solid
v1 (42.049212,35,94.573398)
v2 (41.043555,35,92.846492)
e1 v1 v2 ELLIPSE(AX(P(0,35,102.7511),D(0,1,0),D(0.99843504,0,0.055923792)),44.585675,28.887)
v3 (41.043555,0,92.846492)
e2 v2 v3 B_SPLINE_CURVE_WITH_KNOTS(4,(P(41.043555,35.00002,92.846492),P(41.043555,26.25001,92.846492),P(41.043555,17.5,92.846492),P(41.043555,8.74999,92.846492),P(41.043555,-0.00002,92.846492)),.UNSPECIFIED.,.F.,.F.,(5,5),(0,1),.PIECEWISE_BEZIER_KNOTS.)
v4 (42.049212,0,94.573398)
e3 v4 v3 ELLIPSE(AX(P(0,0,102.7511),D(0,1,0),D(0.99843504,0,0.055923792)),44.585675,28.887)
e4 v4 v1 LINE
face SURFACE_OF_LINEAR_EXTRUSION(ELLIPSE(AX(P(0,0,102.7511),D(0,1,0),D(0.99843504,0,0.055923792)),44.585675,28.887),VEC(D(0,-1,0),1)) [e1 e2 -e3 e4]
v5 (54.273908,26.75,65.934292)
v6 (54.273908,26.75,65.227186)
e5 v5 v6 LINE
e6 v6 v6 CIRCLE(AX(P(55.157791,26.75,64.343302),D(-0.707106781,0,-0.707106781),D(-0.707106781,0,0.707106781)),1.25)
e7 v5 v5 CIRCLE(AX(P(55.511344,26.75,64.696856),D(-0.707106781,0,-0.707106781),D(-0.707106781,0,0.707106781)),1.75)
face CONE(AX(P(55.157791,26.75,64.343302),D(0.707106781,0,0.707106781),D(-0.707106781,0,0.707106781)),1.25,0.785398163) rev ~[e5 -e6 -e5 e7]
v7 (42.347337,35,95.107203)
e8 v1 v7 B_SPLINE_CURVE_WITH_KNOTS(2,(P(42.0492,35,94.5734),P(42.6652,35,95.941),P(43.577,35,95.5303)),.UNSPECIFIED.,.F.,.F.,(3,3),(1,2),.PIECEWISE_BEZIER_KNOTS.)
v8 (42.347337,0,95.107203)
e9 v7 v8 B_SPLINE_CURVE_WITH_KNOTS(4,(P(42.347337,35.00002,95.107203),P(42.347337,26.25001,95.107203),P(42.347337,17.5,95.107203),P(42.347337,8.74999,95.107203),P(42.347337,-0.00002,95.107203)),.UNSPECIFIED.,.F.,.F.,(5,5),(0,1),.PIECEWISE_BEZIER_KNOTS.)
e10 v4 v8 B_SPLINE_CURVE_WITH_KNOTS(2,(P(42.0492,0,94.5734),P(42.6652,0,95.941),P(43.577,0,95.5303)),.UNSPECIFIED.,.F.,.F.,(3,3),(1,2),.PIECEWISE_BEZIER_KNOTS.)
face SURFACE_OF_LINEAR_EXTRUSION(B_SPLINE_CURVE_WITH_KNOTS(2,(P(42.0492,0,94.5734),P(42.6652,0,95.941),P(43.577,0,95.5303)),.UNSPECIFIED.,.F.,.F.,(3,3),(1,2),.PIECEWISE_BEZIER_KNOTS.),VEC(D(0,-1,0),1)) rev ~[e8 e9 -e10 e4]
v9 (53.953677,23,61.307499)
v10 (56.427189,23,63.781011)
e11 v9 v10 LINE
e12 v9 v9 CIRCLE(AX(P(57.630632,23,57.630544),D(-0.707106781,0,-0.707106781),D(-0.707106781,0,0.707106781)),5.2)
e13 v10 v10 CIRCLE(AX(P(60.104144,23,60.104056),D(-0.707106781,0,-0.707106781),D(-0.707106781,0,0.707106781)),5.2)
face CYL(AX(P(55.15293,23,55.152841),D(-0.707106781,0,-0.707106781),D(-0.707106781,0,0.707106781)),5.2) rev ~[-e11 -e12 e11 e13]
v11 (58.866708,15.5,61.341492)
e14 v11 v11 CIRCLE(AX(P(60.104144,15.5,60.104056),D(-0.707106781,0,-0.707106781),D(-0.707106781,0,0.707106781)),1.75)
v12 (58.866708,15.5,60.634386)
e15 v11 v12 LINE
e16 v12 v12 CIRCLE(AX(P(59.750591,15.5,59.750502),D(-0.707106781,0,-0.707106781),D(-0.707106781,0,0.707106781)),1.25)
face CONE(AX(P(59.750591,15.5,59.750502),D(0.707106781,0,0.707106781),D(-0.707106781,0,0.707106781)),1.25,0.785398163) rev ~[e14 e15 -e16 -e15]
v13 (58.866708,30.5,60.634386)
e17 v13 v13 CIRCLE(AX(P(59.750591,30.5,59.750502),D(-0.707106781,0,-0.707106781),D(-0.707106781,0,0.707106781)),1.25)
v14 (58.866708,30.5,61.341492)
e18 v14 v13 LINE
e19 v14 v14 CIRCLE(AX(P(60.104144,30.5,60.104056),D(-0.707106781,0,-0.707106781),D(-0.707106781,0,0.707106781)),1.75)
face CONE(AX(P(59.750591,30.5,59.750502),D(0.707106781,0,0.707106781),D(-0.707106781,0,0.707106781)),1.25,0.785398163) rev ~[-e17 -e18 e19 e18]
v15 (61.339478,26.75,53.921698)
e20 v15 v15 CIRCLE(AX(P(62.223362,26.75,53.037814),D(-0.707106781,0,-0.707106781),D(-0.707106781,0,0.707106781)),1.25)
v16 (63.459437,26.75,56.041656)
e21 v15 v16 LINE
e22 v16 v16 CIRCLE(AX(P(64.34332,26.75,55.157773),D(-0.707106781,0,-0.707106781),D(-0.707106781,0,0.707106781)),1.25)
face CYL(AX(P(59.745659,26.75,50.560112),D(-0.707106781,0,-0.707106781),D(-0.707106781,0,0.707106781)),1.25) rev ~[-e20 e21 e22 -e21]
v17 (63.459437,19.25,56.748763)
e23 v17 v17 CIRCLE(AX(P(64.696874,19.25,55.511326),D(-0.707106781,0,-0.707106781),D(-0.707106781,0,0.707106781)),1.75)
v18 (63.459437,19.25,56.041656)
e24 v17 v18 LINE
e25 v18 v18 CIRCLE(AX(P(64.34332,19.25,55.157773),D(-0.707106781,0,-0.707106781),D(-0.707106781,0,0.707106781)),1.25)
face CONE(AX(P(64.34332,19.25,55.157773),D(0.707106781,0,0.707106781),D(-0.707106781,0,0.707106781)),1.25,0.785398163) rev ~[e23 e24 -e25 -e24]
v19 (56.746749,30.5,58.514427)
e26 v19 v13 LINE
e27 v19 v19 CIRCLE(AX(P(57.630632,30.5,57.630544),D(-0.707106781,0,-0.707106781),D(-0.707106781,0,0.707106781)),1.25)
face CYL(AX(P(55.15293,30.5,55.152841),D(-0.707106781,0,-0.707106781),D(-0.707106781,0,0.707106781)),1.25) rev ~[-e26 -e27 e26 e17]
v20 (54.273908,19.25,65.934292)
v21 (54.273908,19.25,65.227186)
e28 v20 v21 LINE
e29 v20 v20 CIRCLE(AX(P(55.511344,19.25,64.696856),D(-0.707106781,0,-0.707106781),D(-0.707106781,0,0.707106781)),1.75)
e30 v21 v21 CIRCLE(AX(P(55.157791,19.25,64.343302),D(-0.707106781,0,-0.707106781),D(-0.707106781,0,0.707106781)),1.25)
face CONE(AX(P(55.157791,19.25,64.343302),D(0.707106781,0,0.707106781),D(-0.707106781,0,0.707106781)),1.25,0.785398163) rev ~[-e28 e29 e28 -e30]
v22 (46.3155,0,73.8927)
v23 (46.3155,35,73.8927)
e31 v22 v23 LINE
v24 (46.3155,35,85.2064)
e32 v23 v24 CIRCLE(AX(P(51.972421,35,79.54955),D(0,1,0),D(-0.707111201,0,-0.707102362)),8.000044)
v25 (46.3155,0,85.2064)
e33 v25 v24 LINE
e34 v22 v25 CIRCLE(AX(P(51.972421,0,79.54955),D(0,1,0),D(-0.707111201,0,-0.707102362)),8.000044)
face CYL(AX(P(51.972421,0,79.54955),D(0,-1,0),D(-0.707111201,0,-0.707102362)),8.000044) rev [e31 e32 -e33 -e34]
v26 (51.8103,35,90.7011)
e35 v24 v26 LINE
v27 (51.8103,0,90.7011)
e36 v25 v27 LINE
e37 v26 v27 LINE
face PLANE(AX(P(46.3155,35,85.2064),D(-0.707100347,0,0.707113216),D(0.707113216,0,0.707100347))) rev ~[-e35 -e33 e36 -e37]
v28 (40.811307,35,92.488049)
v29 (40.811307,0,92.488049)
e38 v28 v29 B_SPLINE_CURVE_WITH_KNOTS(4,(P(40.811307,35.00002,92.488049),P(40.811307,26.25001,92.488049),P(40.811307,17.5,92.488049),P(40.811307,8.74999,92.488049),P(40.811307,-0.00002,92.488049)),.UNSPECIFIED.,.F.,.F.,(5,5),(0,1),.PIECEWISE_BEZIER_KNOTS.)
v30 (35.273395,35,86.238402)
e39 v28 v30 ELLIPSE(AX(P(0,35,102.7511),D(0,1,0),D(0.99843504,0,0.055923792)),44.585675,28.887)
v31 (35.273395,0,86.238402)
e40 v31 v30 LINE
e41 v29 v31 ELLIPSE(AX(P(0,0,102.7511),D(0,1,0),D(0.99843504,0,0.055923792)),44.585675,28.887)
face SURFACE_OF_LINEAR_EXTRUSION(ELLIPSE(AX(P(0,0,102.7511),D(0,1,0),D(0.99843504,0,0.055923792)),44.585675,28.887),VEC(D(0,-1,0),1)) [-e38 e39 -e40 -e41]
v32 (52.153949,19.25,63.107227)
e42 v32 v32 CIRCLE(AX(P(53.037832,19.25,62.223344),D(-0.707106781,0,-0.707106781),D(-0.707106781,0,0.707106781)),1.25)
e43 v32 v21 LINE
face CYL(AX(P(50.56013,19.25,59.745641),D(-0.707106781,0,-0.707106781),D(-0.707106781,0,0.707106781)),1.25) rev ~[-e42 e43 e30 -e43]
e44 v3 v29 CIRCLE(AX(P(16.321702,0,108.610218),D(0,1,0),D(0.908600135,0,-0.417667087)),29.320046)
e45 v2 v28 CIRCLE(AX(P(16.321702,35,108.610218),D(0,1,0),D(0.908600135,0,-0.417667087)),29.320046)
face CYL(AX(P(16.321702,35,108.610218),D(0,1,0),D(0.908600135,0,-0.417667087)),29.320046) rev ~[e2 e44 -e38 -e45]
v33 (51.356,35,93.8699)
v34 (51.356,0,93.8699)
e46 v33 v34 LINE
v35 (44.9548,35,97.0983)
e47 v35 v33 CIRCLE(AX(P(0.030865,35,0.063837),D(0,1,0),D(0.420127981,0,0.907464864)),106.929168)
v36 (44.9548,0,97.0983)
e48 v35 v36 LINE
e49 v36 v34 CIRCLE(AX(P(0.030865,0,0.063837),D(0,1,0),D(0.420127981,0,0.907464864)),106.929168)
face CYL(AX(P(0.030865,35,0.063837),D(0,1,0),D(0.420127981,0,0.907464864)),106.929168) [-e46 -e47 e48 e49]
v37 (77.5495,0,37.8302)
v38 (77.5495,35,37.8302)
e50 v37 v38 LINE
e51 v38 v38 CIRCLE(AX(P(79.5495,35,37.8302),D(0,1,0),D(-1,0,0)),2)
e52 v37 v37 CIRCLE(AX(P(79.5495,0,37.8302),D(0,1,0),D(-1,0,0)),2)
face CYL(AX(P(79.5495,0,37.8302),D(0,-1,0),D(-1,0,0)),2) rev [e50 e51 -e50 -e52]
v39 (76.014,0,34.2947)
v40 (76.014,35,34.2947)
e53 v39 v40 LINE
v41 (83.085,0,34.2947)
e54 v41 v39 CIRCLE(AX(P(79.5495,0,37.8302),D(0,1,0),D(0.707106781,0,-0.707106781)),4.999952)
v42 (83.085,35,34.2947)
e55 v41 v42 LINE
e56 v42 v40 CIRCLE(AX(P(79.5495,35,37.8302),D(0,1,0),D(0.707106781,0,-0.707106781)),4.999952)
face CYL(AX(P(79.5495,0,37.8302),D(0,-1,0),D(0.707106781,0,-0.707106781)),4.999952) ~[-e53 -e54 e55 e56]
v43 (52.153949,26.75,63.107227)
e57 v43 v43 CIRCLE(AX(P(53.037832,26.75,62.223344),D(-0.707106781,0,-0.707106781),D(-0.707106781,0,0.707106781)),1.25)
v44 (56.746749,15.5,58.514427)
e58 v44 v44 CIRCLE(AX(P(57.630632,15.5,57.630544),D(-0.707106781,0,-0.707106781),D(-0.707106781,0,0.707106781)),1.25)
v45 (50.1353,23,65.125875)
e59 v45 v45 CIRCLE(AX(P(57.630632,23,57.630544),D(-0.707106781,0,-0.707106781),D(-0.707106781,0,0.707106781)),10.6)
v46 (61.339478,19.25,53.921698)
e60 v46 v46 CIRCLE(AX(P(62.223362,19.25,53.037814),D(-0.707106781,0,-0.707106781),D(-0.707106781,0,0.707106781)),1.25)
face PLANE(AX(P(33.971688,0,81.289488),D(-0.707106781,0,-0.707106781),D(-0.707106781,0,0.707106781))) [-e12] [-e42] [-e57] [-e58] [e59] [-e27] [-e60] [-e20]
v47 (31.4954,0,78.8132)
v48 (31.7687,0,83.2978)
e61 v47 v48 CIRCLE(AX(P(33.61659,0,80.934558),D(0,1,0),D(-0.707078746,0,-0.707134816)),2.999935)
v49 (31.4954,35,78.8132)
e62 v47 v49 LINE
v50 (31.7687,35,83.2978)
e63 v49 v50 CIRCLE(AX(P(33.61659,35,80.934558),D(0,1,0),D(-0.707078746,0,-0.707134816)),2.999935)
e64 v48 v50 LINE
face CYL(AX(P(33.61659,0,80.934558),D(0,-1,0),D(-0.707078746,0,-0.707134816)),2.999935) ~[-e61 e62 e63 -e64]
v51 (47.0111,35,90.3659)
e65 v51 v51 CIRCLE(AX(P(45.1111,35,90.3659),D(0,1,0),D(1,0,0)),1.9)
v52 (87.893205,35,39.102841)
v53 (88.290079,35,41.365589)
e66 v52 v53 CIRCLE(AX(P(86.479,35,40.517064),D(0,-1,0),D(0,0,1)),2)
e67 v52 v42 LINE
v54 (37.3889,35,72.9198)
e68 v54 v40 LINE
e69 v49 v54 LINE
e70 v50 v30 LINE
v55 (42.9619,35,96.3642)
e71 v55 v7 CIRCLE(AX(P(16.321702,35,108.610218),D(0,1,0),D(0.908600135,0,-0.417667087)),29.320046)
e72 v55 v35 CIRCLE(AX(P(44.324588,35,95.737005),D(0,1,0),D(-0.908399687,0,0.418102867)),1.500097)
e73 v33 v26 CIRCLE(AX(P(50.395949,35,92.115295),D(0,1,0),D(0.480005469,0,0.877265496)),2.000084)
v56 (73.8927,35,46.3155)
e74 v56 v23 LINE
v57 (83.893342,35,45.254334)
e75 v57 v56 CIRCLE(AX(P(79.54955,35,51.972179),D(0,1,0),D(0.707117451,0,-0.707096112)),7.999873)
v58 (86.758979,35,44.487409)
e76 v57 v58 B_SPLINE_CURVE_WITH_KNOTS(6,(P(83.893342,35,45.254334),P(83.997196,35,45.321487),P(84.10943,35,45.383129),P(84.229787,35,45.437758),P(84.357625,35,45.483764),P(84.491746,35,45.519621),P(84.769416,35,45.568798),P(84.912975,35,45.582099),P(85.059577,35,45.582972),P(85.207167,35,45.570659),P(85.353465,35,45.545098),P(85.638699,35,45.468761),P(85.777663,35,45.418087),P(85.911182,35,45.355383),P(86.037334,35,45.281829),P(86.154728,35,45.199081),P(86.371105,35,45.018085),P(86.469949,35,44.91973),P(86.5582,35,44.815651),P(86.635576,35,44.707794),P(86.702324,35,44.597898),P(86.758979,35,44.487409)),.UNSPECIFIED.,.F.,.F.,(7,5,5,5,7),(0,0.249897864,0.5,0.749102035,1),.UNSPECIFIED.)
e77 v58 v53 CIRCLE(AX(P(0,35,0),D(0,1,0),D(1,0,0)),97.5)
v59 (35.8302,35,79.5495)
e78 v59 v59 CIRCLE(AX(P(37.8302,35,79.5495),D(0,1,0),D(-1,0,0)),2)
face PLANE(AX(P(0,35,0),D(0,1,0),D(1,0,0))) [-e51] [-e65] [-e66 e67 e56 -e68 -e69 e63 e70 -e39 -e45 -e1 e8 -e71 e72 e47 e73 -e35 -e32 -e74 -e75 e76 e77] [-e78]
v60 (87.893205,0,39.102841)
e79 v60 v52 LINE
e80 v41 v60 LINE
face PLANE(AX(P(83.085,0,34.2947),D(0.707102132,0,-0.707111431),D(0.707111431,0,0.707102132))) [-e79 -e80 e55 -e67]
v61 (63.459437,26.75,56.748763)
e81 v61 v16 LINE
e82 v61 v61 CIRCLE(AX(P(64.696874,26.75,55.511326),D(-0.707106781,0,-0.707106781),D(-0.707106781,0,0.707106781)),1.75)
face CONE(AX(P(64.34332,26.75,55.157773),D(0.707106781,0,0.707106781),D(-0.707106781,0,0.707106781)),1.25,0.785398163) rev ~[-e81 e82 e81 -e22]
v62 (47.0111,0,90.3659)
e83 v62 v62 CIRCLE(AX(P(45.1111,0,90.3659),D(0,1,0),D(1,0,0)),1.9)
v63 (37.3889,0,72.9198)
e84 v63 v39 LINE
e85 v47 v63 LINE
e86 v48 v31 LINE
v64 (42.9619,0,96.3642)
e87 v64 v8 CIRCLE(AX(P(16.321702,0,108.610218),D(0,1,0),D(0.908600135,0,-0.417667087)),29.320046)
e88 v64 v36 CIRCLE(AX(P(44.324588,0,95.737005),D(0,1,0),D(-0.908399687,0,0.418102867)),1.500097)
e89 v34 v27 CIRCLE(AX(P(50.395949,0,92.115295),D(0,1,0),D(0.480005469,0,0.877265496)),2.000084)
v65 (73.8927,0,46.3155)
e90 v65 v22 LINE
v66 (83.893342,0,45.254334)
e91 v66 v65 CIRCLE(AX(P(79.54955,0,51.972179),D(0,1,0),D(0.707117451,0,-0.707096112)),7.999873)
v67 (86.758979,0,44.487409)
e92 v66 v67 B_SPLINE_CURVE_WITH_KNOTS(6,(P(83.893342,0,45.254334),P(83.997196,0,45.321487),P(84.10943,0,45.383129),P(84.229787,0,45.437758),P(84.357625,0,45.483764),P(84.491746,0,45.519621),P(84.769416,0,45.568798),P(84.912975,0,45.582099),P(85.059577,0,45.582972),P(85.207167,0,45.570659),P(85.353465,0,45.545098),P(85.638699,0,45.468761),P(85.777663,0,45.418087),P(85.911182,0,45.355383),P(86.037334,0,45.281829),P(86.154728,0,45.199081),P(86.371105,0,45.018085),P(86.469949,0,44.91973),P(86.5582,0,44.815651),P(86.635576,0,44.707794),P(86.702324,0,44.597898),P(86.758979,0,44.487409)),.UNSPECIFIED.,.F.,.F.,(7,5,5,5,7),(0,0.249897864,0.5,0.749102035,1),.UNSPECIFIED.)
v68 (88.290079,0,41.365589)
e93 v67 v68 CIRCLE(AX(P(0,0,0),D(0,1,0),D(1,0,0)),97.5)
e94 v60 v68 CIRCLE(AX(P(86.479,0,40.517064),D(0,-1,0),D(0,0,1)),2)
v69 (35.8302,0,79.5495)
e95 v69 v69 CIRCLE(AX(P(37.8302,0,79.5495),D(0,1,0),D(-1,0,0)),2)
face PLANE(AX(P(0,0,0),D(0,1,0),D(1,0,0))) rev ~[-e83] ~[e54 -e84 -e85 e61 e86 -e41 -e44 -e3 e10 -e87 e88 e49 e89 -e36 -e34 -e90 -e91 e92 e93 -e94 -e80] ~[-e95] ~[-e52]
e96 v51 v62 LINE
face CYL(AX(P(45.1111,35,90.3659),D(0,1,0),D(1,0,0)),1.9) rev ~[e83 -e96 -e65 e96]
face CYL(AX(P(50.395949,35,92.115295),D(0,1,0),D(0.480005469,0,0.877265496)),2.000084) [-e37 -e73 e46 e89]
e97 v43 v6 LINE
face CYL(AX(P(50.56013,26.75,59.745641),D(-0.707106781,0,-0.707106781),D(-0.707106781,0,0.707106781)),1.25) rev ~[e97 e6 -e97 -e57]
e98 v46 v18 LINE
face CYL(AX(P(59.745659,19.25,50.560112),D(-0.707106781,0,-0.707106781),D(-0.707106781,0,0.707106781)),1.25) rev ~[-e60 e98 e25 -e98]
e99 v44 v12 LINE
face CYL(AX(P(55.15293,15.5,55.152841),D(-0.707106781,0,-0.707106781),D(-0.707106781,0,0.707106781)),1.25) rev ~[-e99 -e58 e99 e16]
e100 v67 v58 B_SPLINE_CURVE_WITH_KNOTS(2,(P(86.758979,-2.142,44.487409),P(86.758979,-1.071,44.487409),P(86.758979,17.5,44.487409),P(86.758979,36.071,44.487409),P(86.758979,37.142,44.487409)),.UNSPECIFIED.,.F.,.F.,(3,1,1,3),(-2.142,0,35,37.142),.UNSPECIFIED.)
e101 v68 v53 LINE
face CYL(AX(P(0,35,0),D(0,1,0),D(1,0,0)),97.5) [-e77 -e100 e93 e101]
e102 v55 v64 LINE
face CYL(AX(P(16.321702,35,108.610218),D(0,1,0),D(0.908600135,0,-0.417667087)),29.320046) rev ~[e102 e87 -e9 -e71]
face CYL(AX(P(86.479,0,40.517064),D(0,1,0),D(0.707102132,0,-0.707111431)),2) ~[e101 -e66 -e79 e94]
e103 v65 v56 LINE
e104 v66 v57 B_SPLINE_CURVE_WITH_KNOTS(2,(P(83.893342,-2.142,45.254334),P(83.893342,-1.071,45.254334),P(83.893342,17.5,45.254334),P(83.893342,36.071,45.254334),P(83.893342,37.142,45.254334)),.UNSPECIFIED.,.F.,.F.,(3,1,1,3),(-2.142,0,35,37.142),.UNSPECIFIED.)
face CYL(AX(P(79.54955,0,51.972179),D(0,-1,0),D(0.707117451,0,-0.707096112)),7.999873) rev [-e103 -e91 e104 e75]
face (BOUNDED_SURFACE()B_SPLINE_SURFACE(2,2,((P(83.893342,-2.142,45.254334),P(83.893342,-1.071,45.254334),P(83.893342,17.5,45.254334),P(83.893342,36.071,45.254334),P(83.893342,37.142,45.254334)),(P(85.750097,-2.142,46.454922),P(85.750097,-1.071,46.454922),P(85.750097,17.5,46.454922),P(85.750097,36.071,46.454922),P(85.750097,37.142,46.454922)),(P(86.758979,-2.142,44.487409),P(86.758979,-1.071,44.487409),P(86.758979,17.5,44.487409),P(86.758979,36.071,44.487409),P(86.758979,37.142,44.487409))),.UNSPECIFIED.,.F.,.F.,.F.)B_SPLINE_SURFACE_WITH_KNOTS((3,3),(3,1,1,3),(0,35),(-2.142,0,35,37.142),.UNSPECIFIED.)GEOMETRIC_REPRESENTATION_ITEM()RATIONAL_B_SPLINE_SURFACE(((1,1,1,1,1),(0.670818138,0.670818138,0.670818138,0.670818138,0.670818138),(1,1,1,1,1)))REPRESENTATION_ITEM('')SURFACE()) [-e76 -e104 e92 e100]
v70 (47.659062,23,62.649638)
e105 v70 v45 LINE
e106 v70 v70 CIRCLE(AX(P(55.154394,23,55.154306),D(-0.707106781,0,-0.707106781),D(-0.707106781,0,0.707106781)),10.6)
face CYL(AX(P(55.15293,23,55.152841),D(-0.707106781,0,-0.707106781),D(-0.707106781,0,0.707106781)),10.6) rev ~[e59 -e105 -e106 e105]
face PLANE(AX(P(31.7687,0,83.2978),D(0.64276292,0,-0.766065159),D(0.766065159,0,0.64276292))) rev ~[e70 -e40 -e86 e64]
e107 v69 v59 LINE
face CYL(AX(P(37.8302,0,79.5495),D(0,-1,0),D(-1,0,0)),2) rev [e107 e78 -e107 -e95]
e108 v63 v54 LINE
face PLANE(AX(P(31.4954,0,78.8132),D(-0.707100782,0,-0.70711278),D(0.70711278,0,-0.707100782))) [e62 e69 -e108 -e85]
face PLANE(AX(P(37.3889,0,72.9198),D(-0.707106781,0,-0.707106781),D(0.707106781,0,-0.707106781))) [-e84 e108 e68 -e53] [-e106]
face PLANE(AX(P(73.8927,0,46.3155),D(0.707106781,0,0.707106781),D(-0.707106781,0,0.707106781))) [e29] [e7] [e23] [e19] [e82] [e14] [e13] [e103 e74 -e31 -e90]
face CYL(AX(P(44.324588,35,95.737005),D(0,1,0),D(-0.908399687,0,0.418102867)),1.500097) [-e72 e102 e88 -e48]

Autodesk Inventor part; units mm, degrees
ref_plane "YZ Plane" through (0, 0, 0) normal (1, 0, 0) x (0, 1, 0)
ref_plane "XZ Plane" through (0, 0, 0) normal (0, 1, 0) x (-1, 0, 0)
ref_plane "XY Plane" through (0, 0, 0) normal (0, 0, 1) x (1, 0, 0)
sketch "Эскиз1" plane through (0, 0, 0) normal (0, 1, 0) x (-1, 0, 0)
  line L0 (34.2947, -76.014) -> (76.014, -34.2947)
  arc A0 (83.085, -34.2947) -> (76.014, -34.2947) centre (79.5495, -37.8302) ccw
  line L1 (83.085, -34.2947) -> (87.156, -38.3657)
  line L2 (46.3155, -73.8927) -> (73.8927, -46.3155)
  arc A1 (85.2064, -46.3155) -> (73.8927, -46.3155) centre (79.5495, -51.9723) ccw
  line L3 (85.2064, -46.3155) -> (87.5645, -48.6736)
  line L4 (92.5543, -49.5852) -> (94.5192, -45.7288)
  line L5 (87.156, -38.3657) -> (94.5192, -45.7288)
  line L6 (34.2947, -83.085) -> (38.3657, -87.156)
  arc A2 (34.2947, -76.014) -> (34.2947, -83.085) centre (37.8302, -79.5495) ccw
  arc A3 (46.3155, -73.8927) -> (46.3155, -85.2064) centre (51.9723, -79.5495) ccw
  line L7 (48.6736, -87.5645) -> (46.3155, -85.2064)
  line L8 (48.7014, -93.0224) -> (45.7288, -94.5192)
  line L9 (38.3657, -87.156) -> (45.7288, -94.5192)
  spline S0 degree 4 poles (87.5645, -48.6736) (88.1327, -49.2418) (88.8708, -49.8865) (89.7495, -50.471) (90.7127, -50.7263) (91.4939, -50.6999) (92.0261, -50.3682) (92.3519, -49.9478) (92.5543, -49.5852) knots 0 0 0 0 0 0.3763 0.501335 0.614666 0.722287 1 1 1 1 1
  spline S1 degree 4 poles (48.6736, -87.5645) (49.2196, -88.1111) (49.8318, -88.8375) (50.3553, -89.7359) (50.492, -90.7638) (50.3179, -91.6771) (49.7988, -92.3195) (49.2087, -92.7429) (48.7014, -93.0224) knots 0 0 0 0 0 0.349502 0.469309 0.582088 0.694155 1 1 1 1 1
  line L10 (-34.2947, -83.085) -> (-38.3657, -87.156)
  arc A4 (-34.2947, -83.085) -> (-34.2947, -76.014) centre (-37.8302, -79.5495) ccw
  line L11 (-34.2947, -76.014) -> (-76.014, -34.2947)
  arc A5 (-76.014, -34.2947) -> (-83.085, -34.2947) centre (-79.5495, -37.8302) ccw
  line L12 (-83.085, -34.2947) -> (-87.156, -38.3657)
  spline S2 degree 4 poles (-87.5645, -48.6736) (-88.2923, -48.9071) (-89.2106, -49.145) (-90.2184, -49.3413) (-91.1787, -49.4878) (-91.8016, -49.5698) (-92.1947, -49.6038) (-92.4379, -49.6109) (-92.5543, -49.5852) knots 0 0 0 0 0 0.418269 0.55812 0.681099 0.788421 1 1 1 1 1
  line L13 (-85.2064, -46.3155) -> (-87.5645, -48.6736)
  arc A6 (-73.8927, -46.3155) -> (-85.2064, -46.3155) centre (-79.5495, -51.9723) ccw
  line L14 (-46.3155, -73.8927) -> (-73.8927, -46.3155)
  arc A7 (-46.3155, -85.2064) -> (-46.3155, -73.8927) centre (-51.9723, -79.5495) ccw
  spline S3 degree 4 poles (-48.6736, -87.5645) (-49.2196, -88.1111) (-49.8318, -88.8375) (-50.3553, -89.7359) (-50.492, -90.7638) (-50.3179, -91.6771) (-49.7988, -92.3195) (-49.2087, -92.7429) (-48.7014, -93.0224) knots 0 0 0 0 0 0.349502 0.469309 0.582088 0.694155 1 1 1 1 1
  line L15 (-48.6736, -87.5645) -> (-46.3155, -85.2064)
  arc A8 (-92.5543, 49.5852) -> (-92.5543, -49.5852) centre (0, 0) ccw construction
  arc A9 (-48.7014, -93.0224) -> (48.7014, -93.0224) centre (0, 0) ccw construction
  line L16 (-38.3657, -87.156) -> (-45.7288, -94.5192)
  line L17 (-87.156, -38.3657) -> (-94.5192, -45.7288)
  line L18 (-92.5543, -49.5852) -> (-94.5192, -45.7288)
  line L19 (-48.7014, -93.0224) -> (-45.7288, -94.5192)
  line L20 (0, 0) -> (0, 95.3237) construction
  line L21 (34.2947, -76.014) -> (76.014, -34.2947)
  arc A10 (83.085, -34.2947) -> (76.014, -34.2947) centre (79.5495, -37.8302) ccw
  line L22 (83.085, -34.2947) -> (87.156, -38.3657)
  line L23 (46.3155, -73.8927) -> (73.8927, -46.3155)
  arc A11 (85.2064, -46.3155) -> (73.8927, -46.3155) centre (79.5495, -51.9723) ccw
  line L24 (85.2064, -46.3155) -> (87.5645, -48.6736)
  line L25 (92.5543, -49.5852) -> (94.5192, -45.7288)
  arc A12 (92.5543, -49.5852) -> (92.5543, 49.5852) centre (0, 0) ccw construction
  line L26 (87.156, -38.3657) -> (94.5192, -45.7288)
  line L27 (34.2947, -83.085) -> (38.3657, -87.156)
  arc A13 (34.2947, -76.014) -> (34.2947, -83.085) centre (37.8302, -79.5495) ccw
  arc A14 (46.3155, -73.8927) -> (46.3155, -85.2064) centre (51.9723, -79.5495) ccw
  line L28 (48.6736, -87.5645) -> (46.3155, -85.2064)
  line L29 (48.7014, -93.0224) -> (45.7288, -94.5192)
  line L30 (38.3657, -87.156) -> (45.7288, -94.5192)
  arc A15 (-48.7014, -93.0224) -> (48.7014, -93.0224) centre (0, 0) ccw construction
  spline S4 degree 4 poles (87.5645, -48.6736) (88.1327, -49.2418) (88.8708, -49.8865) (89.7495, -50.471) (90.7127, -50.7263) (91.4939, -50.6999) (92.0261, -50.3682) (92.3519, -49.9478) (92.5543, -49.5852) knots 0 0 0 0 0 0.3763 0.501335 0.614666 0.722287 1 1 1 1 1
  spline S5 degree 4 poles (48.6736, -87.5645) (49.2196, -88.1111) (49.8318, -88.8375) (50.3553, -89.7359) (50.492, -90.7638) (50.3179, -91.6771) (49.7988, -92.3195) (49.2087, -92.7429) (48.7014, -93.0224) knots 0 0 0 0 0 0.349502 0.469309 0.582088 0.694155 1 1 1 1 1
  line L31 (52.2091, 91.1) -> (48.6736, 87.5645) construction
  line L32 (52.2091, 91.1) -> (48.6736, 87.5645) construction
  line L33 (48.6736, 87.5645) -> (52.2091, 91.1) construction
  spline S6 degree 2 poles (48.6736, 87.5645) (52.2091, 91.1) (48.7014, 93.0224) knots 1 1 1 2 2 2 construction
  line L34 (52.2091, 91.1) -> (48.7014, 93.0224) construction
  line L35 (91.1, 52.2091) -> (52.2091, 91.1) construction
  arc A16 (92.5543, 49.5852) -> (48.7014, 93.0224) centre (0, 0) ccw construction
  line L36 (44.1942, 76.014) -> (76.014, 44.1942) construction
  line L37 (0, 56.6418) -> (-35.5516, 86.4744) construction
  arc A17 (0, 67.941) -> (23.7825, 76.5969) centre (0, 104.941) ccw construction
  arc A18 (-23.7825, 76.5969) -> (0, 67.941) centre (0, 104.941) ccw construction
  line L38 (-23.7825, 76.5969) -> (-35.2734, 86.2384) construction
  line L39 (0, 104.941) -> (-23.6028, 54.3247) construction
  arc A19 (-28.0199, 71.0163) -> (5.5413, 61.2914) centre (0, 104.941) ccw construction
  arc A20 (5.5413, 61.2914) -> (28.0199, 71.0163) centre (0, 104.941) ccw construction
  arc A21 (-30.6393, 73.2144) -> (-37.3889, 72.9198) centre (-33.8534, 69.3842) ccw construction
  line L40 (0, 56.6418) -> (23.7825, 76.5969) construction
  line L41 (23.7825, 76.5969) -> (35.2734, 86.2384) construction
  line L42 (0, 0) -> (74.2462, 74.2462) construction
  line L43 (42.6652, 95.941) -> (42.0492, 94.5734) construction
  line L44 (42.0492, 94.5734) -> (42.6652, 95.941) construction
  spline S7 degree 2 poles (42.0492, 94.5734) (42.6652, 95.941) (43.577, 95.5303) knots 1 1 1 2 2 2 construction
  line L45 (42.6652, 95.941) -> (43.577, 95.5303) construction
  arc A22 (-44.1942, 76.014) -> (-44.1942, 83.085) centre (-47.7297, 79.5495) ccw construction
  arc A23 (92.5543, -49.5852) -> (92.5543, 49.5852) centre (0, 0) ccw construction
  circle A24 centre (0, 0) radius 35 construction
  spline S8 degree 2 poles (-48.6736, 87.5645) (-52.2091, 91.1) (-48.7014, 93.0224) knots 1 1 1 2 2 2 construction
  line L46 (-48.6736, 87.5645) -> (-52.2091, 91.1) construction
  line L47 (-52.2091, 91.1) -> (-48.7014, 93.0224) construction
  arc A25 (-83.085, 44.1942) -> (-76.014, 44.1942) centre (-79.5495, 47.7297) ccw construction
  line L48 (-83.085, 44.1942) -> (-85.2064, 46.3155) construction
  line L49 (-44.1942, 76.014) -> (-46.3155, 73.8927) construction
  arc A26 (-48.7014, 93.0224) -> (-92.5543, 49.5852) centre (0, 0) ccw construction
  line L50 (-42.6652, 95.941) -> (-42.0492, 94.5734) construction
  arc A27 (-43.577, 95.5303) -> (-48.7014, 93.0224) centre (0, 0) ccw
  ellipse E0 centre (0, 102.7511) end of major axis (-44.5159, 105.2445) minor radius 28.887 (-42.0492, 94.5734) -> (-35.2734, 86.2384) ccw
  line L51 (-42.0492, 94.5734) -> (-42.6652, 95.941) construction
  spline S9 degree 2 poles (-42.0492, 94.5734) (-42.6652, 95.941) (-43.577, 95.5303) knots 1 1 1 2 2 2 construction
  line L52 (-42.6652, 95.941) -> (-43.577, 95.5303) construction
  line L53 (-42.0492, 94.5734) -> (-42.6652, 95.941) construction
  spline S10 degree 2 poles (-42.0492, 94.5734) (-42.6652, 95.941) (-43.577, 95.5303) knots 1 1 1 2 2 2
  line L54 (-42.6652, 95.941) -> (-43.577, 95.5303) construction
  line L55 (-42.6652, 95.941) -> (-43.577, 95.5303) construction
  line L56 (-44.1942, 83.085) -> (-48.6736, 87.5645) construction
  line L57 (-37.3889, 72.9198) -> (-76.014, 34.2947)
  arc A28 (-83.085, 34.2947) -> (-76.014, 34.2947) centre (-79.5495, 37.8302) ccw
  line L58 (-83.085, 34.2947) -> (-90.6891, 41.8987)
  arc A29 (-87.3563, 48.4654) -> (-90.6891, 41.8987) centre (0, 0) ccw construction
  line L59 (-93.5297, 47.6709) -> (-92.5543, 49.5852) construction
  arc A30 (85.2064, -46.3155) -> (73.8927, -46.3155) centre (79.5495, -51.9723) ccw construction
  line L60 (85.2064, -46.3155) -> (87.5645, -48.6736) construction
  spline S11 degree 2 poles (87.5645, -48.6736) (91.1, -52.2091) (92.5543, -49.5852) knots 1 1 1 2 2 2 construction
  line L61 (87.5645, -48.6736) -> (91.1, -52.2091) construction
  line L62 (91.1, -52.2091) -> (92.5543, -49.5852) construction
  line L63 (46.3155, -73.8927) -> (73.8927, -46.3155) construction
  line L64 (48.6736, -87.5645) -> (46.3155, -85.2064) construction
  line L65 (48.6736, -87.5645) -> (52.2091, -91.1) construction
  spline S12 degree 2 poles (48.6736, -87.5645) (52.2091, -91.1) (48.7014, -93.0224) knots 1 1 1 2 2 2 construction
  line L66 (52.2091, -91.1) -> (48.7014, -93.0224) construction
  arc A31 (46.3155, -73.8927) -> (46.3155, -85.2064) centre (51.9723, -79.5495) ccw construction
  arc A32 (48.7014, -93.0224) -> (92.5543, -49.5852) centre (0, 0) ccw construction
  arc A33 (-48.7014, -93.0224) -> (48.7014, -93.0224) centre (0, 0) ccw construction
  arc A34 (-90.6891, 41.8987) -> (-87.3563, 48.4654) centre (0, 0) ccw construction
  line L67 (42.6652, 95.941) -> (-42.6652, 95.941) construction
  line L68 (-48.6736, -87.5645) -> (-52.2091, -91.1) construction
  spline S13 degree 2 poles (-48.6736, -87.5645) (-52.2091, -91.1) (-48.7014, -93.0224) knots 1 1 1 2 2 2 construction
  line L69 (-52.2091, -91.1) -> (-48.7014, -93.0224) construction
  line L70 (-91.1, -52.2091) -> (-92.5543, -49.5852) construction
  spline S14 degree 2 poles (-87.5645, -48.6736) (-91.1, -52.2091) (-92.5543, -49.5852) knots 1 1 1 2 2 2 construction
  line L71 (-87.5645, -48.6736) -> (-91.1, -52.2091) construction
  arc A35 (-92.5543, -49.5852) -> (-48.7014, -93.0224) centre (0, 0) ccw construction
  line L72 (-48.6736, -87.5645) -> (-46.3155, -85.2064) construction
  arc A36 (-73.8927, -46.3155) -> (-85.2064, -46.3155) centre (-79.5495, -51.9723) ccw construction
  line L73 (-85.2064, -46.3155) -> (-87.5645, -48.6736) construction
  line L74 (-46.3155, -73.8927) -> (-73.8927, -46.3155) construction
  arc A37 (-46.3155, -85.2064) -> (-46.3155, -73.8927) centre (-51.9723, -79.5495) ccw construction
  arc A38 (-92.5543, 49.5852) -> (-92.5543, -49.5852) centre (0, 0) ccw construction
  arc A39 (44.1942, 83.085) -> (44.1942, 76.014) centre (47.7297, 79.5495) ccw construction
  arc A40 (44.0271, 95.3237) -> (43.577, 95.5303) centre (0, 0) ccw construction
  line L75 (42.6652, 95.941) -> (43.577, 95.5303) construction
  arc A41 (48.7014, 93.0224) -> (44.0271, 95.3237) centre (0, 0) ccw construction
  line L76 (52.2091, 91.1) -> (48.7014, 93.0224) construction
  line L77 (83.085, 44.1942) -> (87.5645, 48.6736) construction
  ellipse E1 centre (0, 102.7511) end of major axis (44.5159, 105.2445) minor radius 28.887 (35.2734, 86.2384) -> (42.0492, 94.5734) ccw construction
  arc A42 (76.014, 44.1942) -> (83.085, 44.1942) centre (79.5495, 47.7297) ccw construction
  line L78 (0, 0) -> (0, 209.8821) construction
  arc A43 (43.577, 95.5303) -> (-43.577, 95.5303) centre (0, 0) ccw construction
  arc A44 (23.7825, 76.5969) -> (0, 67.941) centre (0, 104.941) ccw construction
  line L79 (44.0271, 95.3237) -> (44.0271, 127.8162) construction
  ellipse E2 centre (0, 102.7511) end of major axis (44.0271, 102.7511) minor radius 27.5932 (42.0492, 94.5734) -> (35.2734, 86.2384) ccw construction
  line L80 (-30.6393, 73.2144) -> (-28.0199, 71.0163) construction
  arc A45 (28.0199, 71.0163) -> (-28.0199, 71.0163) centre (0, 104.941) ccw construction
  line L81 (30.6393, 73.2144) -> (28.0199, 71.0163) construction
  arc A46 (37.3889, 72.9198) -> (30.6393, 73.2144) centre (33.8534, 69.3842) ccw construction
  line L82 (44.0271, 95.3237) -> (43.577, 95.5303) construction
  arc A47 (44.1942, 83.085) -> (44.1942, 76.014) centre (47.7297, 79.5495) ccw construction
  line L83 (48.6736, 87.5645) -> (44.1942, 83.085) construction
  line L84 (37.3889, 72.9198) -> (76.014, 34.2947) construction
  line L85 (44.1942, 76.014) -> (76.014, 44.1942) construction
  arc A48 (76.014, 44.1942) -> (83.085, 44.1942) centre (79.5495, 47.7297) ccw construction
  arc A49 (76.014, 34.2947) -> (83.085, 34.2947) centre (79.5495, 37.8302) ccw construction
  line L86 (83.085, 44.1942) -> (87.3563, 48.4654) construction
  line L87 (83.085, 34.2947) -> (90.6891, 41.8987) construction
  arc A50 (90.6891, 41.8987) -> (87.3563, 48.4654) centre (0, 0) ccw construction
  arc A51 (-83.085, 34.2947) -> (-76.014, 34.2947) centre (-79.5495, 37.8302) ccw
  line L88 (-87.156, 38.3657) -> (-94.5192, 45.7288)
  line L89 (-93.0224, 48.7014) -> (-94.5192, 45.7288)
  arc A52 (-85.2064, 46.3155) -> (-73.8927, 46.3155) centre (-79.5495, 51.9723) ccw
  line L90 (-87.5645, 48.6736) -> (-85.2064, 46.3155)
  line L91 (-83.085, 34.2947) -> (-87.156, 38.3657)
  line L92 (-73.8927, 46.3155) -> (-46.3155, 73.8927)
  spline S15 degree 4 poles (-87.5645, 48.6736) (-88.1111, 49.2196) (-88.8375, 49.8318) (-89.7359, 50.3553) (-90.7638, 50.492) (-91.6771, 50.3179) (-92.3195, 49.7988) (-92.7429, 49.2087) (-93.0224, 48.7014) knots 0 0 0 0 0 0.349502 0.469309 0.582088 0.694155 1 1 1 1 1
  arc A53 (-34.2947, 76.014) -> (-34.2947, 83.085) centre (-37.8302, 79.5495) ccw construction
  line L93 (-34.2947, 83.085) -> (-38.3657, 87.156) construction
  arc A54 (-46.3155, 73.8927) -> (-46.3155, 85.2064) centre (-51.9723, 79.5495) ccw
  line L94 (-46.3155, 85.2064) -> (-48.6736, 87.5645)
  spline S16 degree 4 poles (-48.6736, 87.5645) (-49.2418, 88.1327) (-49.8865, 88.8708) (-50.471, 89.7495) (-50.7263, 90.7127) (-50.6999, 91.4939) (-50.3682, 92.0261) (-49.9478, 92.3519) (-49.5852, 92.5543) knots 0 0 0 0 0 0.3763 0.501335 0.614666 0.722287 1 1 1 1 1
  line L95 (-49.5852, 92.5543) -> (-45.7288, 94.5192)
  line L96 (-38.3657, 87.156) -> (-45.7288, 94.5192) construction
  arc A55 (-34.2947, 76.014) -> (-34.2947, 83.085) centre (-37.8302, 79.5495) ccw construction
  line L97 (-34.2947, 83.085) -> (-38.3657, 87.156) construction
  arc A56 (-46.3155, 73.8927) -> (-46.3155, 85.2064) centre (-51.9723, 79.5495) ccw
  line L98 (-46.3155, 85.2064) -> (-48.6736, 87.5645)
  spline S17 degree 4 poles (-48.6736, 87.5645) (-49.2418, 88.1327) (-49.8865, 88.8708) (-50.471, 89.7495) (-50.7263, 90.7127) (-50.6999, 91.4939) (-50.3682, 92.0261) (-49.9478, 92.3519) (-49.5852, 92.5543) knots 0 0 0 0 0 0.3763 0.501335 0.614666 0.722287 1 1 1 1 1
  line L99 (-49.5852, 92.5543) -> (-45.7288, 94.5192)
  line L100 (-38.3657, 87.156) -> (-45.7288, 94.5192) construction
  arc A57 (-83.085, 34.2947) -> (-76.014, 34.2947) centre (-79.5495, 37.8302) ccw
  line L101 (-83.085, 34.2947) -> (-87.156, 38.3657)
  line L102 (-87.156, 38.3657) -> (-94.5192, 45.7288)
  line L103 (-93.0224, 48.7014) -> (-94.5192, 45.7288)
  spline S18 degree 4 poles (-87.5645, 48.6736) (-88.1111, 49.2196) (-88.8375, 49.8318) (-89.7359, 50.3553) (-90.7638, 50.492) (-91.6771, 50.3179) (-92.3195, 49.7988) (-92.7429, 49.2087) (-93.0224, 48.7014) knots 0 0 0 0 0 0.349502 0.469309 0.582088 0.694155 1 1 1 1 1
  arc A58 (-85.2064, 46.3155) -> (-73.8927, 46.3155) centre (-79.5495, 51.9723) ccw
  line L104 (-76.014, 34.2947) -> (-34.2947, 76.014) construction
  line L105 (-73.8927, 46.3155) -> (-46.3155, 73.8927)
  line L106 (-87.5645, 48.6736) -> (-85.2064, 46.3155)
  line L107 (-87.5645, 48.6736) -> (-91.1, 52.2091) construction
  spline S19 degree 2 poles (-87.5645, 48.6736) (-91.1, 52.2091) (-93.0224, 48.7014) knots 1 1 1 2 2 2 construction
  line L108 (-91.1, 52.2091) -> (-93.0224, 48.7014) construction
  line L109 (-48.6736, 87.5645) -> (-52.2091, 91.1) construction
  spline S20 degree 2 poles (-48.6736, 87.5645) (-52.2091, 91.1) (-49.5852, 92.5543) knots 1 1 1 2 2 2 construction
  line L110 (-52.2091, 91.1) -> (-49.5852, 92.5543) construction
  arc A59 (-49.5852, 92.5543) -> (-93.0224, 48.7014) centre (0, 0) ccw construction
  arc A60 (-46.3155, 73.8927) -> (-46.3155, 85.2064) centre (-51.9723, 79.5495) ccw construction
  line L111 (-46.3155, 85.2064) -> (-48.6736, 87.5645) construction
  line L112 (-73.8927, 46.3155) -> (-46.3155, 73.8927) construction
  arc A61 (-85.2064, 46.3155) -> (-73.8927, 46.3155) centre (-79.5495, 51.9723) ccw construction
  line L113 (-87.5645, 48.6736) -> (-85.2064, 46.3155) construction
  line L114 (-60.1041, 60.1041) -> (-55.1543, 55.1543) construction
  circle A62 centre (-79.5495, 37.8302) radius 2
  circle A63 centre (-37.8302, 79.5495) radius 2
  arc A64 (-34.995, 78.2699) -> (-31.4954, 78.8132) centre (-33.6167, 80.9346) ccw construction
  arc A65 (-36.5845, 80.4956) -> (-34.995, 78.2699) centre (-33.6167, 80.9346) ccw construction
  arc A66 (-31.7687, 83.2978) -> (-36.5845, 80.4956) centre (-33.6167, 80.9346) ccw construction
  arc A67 (-31.4954, 78.8132) -> (-31.7687, 83.2978) centre (-33.6167, 80.9346) ccw
  line L115 (-31.4954, 78.8132) -> (-29.1816, 81.127) construction
  line L116 (-46.3155, 73.8927) -> (-73.8927, 46.3155)
  line L117 (-73.8927, 46.3155) -> (-76.014, 44.1942) construction
  line L118 (-85.2064, 46.3155) -> (-87.3563, 48.4654)
  line L119 (-31.7687, 83.2978) -> (-35.2734, 86.2384)
  line L120 (99.9, 0) -> (-99.9, 0) construction
  line L121 (-31.4954, 78.8132) -> (-37.3889, 72.9198)
  point P0 (49.5385, -88.5397)
  point P1 (50.0866, -89.3893)
  point P2 (50.374, -90.1304)
  point P3 (50.4468, -90.7861)
  point P4 (50.3313, -91.3833)
  point P5 (50.0252, -91.9468)
  point P6 (49.4982, -92.4922)
  point P7 (88.5759, -49.5937)
  point P8 (89.4338, -50.2024)
  point P9 (90.1559, -50.5529)
  point P10 (90.7644, -50.6948)
  point P11 (91.2858, -50.6665)
  point P12 (91.7467, -50.4838)
  point P13 (92.1672, -50.1352)
  point P14 (-49.5385, -88.5397)
  point P15 (-50.0866, -89.3893)
  point P16 (-50.374, -90.1304)
  point P17 (-50.4468, -90.7861)
  point P18 (-50.3313, -91.3833)
  point P19 (-50.0252, -91.9468)
  point P20 (-49.4982, -92.4922)
  point P21 (-88.8102, -49.0283)
  point P22 (-89.8253, -49.2555)
  point P23 (-90.6304, -49.4012)
  point P24 (-91.2557, -49.4962)
  point P25 (-91.7365, -49.5573)
  point P26 (-92.1043, -49.5921)
  point P27 (-92.3767, -49.6022)
  point P28 (88.5759, -49.5937)
  point P29 (89.4338, -50.2024)
  point P30 (90.1559, -50.5529)
  point P31 (90.7644, -50.6948)
  point P32 (91.2858, -50.6665)
  point P33 (91.7467, -50.4838)
  point P34 (92.1672, -50.1352)
  point P35 (49.5385, -88.5397)
  point P36 (50.0866, -89.3893)
  point P37 (50.374, -90.1304)
  point P38 (50.4468, -90.7861)
  point P39 (50.3313, -91.3833)
  point P40 (50.0252, -91.9468)
  point P41 (49.4982, -92.4922)
  point P42 (79.5495, 40.6586)
  point P43 (40.6586, 79.5495)
  point P44 (60.1041, 60.1041)
  point P45 (-23.542, 76.3968)
  point P46 (-34.9935, 86.0061)
  point P47 (0, 95.941)
  point P48 (-15.6369, 71.4076)
  point P49 (-13.2817, 58.6489)
  point P50 (-28.5452, 71.4571)
  point P51 (13.2817, 58.6489)
  point P52 (-87.5645, 48.6736)
  point P53 (0, 105)
  point P54 (-94.5192, 45.7288)
  point P55 (0, 95.941)
  point P56 (-88.5397, 49.5385)
  point P57 (-89.3893, 50.0866)
  point P58 (-90.1304, 50.374)
  point P59 (-90.7861, 50.4468)
  point P60 (-91.3833, 50.3313)
  point P61 (-91.9468, 50.0252)
  point P62 (-92.4922, 49.4982)
  point P63 (-49.5937, 88.5759)
  point P64 (-50.2024, 89.4338)
  point P65 (-50.5529, 90.1559)
  point P66 (-50.6948, 90.7644)
  point P67 (-50.6665, 91.2858)
  point P68 (-50.4838, 91.7467)
  point P69 (-50.1352, 92.1672)
  point P70 (-49.5937, 88.5759)
  point P71 (-50.2024, 89.4338)
  point P72 (-50.5529, 90.1559)
  point P73 (-50.6948, 90.7644)
  point P74 (-50.6665, 91.2858)
  point P75 (-50.4838, 91.7467)
  point P76 (-50.1352, 92.1672)
  point P77 (-88.5397, 49.5385)
  point P78 (-89.3893, 50.0866)
  point P79 (-90.1304, 50.374)
  point P80 (-90.7861, 50.4468)
  point P81 (-91.3833, 50.3313)
  point P82 (-91.9468, 50.0252)
  point P83 (-92.4922, 49.4982)
  dimension "d63" = 44.5856
  dimension "d44" = 74
  dimension "d45" = 100
  dimension "d46" = 28
  dimension "d47" = 15
  dimension "d48" = 45
  dimension "d49" = 55
  dimension "d50" = 16.3348
  dimension "d51" = 27.5
  dimension "d52" = 5
  dimension "d53" = 5
  dimension "d54" = 1
  dimension "d55" = 1.5
  dimension "d56" = 1.5
  dimension "d57" = 1
  dimension "d58" = 4
  dimension "d59" = 70
  dimension "d60" = 85
  dimension "d61" = 105
  dimension "d62" = 1.3619
  dimension "d64" = 88
  dimension "d65" = 7
  dimension "d66" = 5
  dimension "d67" = 7
  dimension "d68" = 5
  dimension "d69" = 7
  dimension "d70" = 5
  dimension "d71" = 5.1
  dimension "d72" = 4
  dimension "d73" = 6
extrude "Выдавливание10" add sketch "Эскиз1" along normal blind 35 contours S10 E0 L119 A67 L121 L57 A28 L58 L88 L89 S15 L90 A52 L92 A54 L94 S16 L95 A27
sketch "Эскиз6" plane through (31.4954, 0, 78.8132) normal (-0.7071, 0, -0.7071) x (-0.7071, 0, 0.7071)
  line L0 (-5.9588, 35) -> (-1.9588, 35) construction
  line L1 (-64.9588, 35) -> (-60.9588, 35) construction
  line L2 (-60.9588, 0) -> (-64.9588, 0) construction
  line L3 (-5.8588, 0) -> (-2.0588, 0) construction
  line L4 (-62.9588, 0) -> (-67.9588, 0) construction
  line L5 (-62.9588, 35) -> (-62.9588, 0) construction
  line L6 (-62.9588, 35) -> (0, 35) construction
  line L7 (-3.9588, 35) -> (-3.9588, 0) construction
  line L8 (-62.9588, 0) -> (0, 0) construction
  circle A0 centre (-33.4588, 23) radius 10.6
  circle A1 centre (-33.4588, 23) radius 7.5 construction
  circle A2 centre (-33.4588, 23) radius 5.2
  circle A3 centre (-33.4588, 30.5) radius 1.25
  line L9 (-33.4588, 23) -> (-33.4588, 35) construction
  line L10 (-13.9588, 35) -> (-52.9588, 35) construction
  circle A4 centre (-39.9539, 26.75) radius 1.25
  circle A5 centre (-39.9539, 19.25) radius 1.25
  circle A6 centre (-33.4588, 15.5) radius 1.25
  circle A7 centre (-26.9636, 19.25) radius 1.25
  circle A8 centre (-26.9636, 26.75) radius 1.25
  point P0 (-33.4588, 0)
  dimension "d82" = 15
  dimension "d80" = 59
  dimension "d81" = 21.2
  dimension "d83" = 10.4
  dimension "d84" = 2.5
  dimension "d87" = 360
  dimension "d97" = 12
extrude "Выдавливание13" cut sketch "Эскиз6" against normal mid plane 33.5 contours A2 | A3 | A4 | A5 | A6 | A7 | A8
extrude "Выдавливание14" cut sketch "Эскиз6" against normal blind 3.5
chamfer "Фаска3" distance 0.5 angle 45 6 edges at (60.988, 30.5, 59.2202) (65.5808, 26.75, 54.6274) (65.5808, 19.25, 54.6274) (60.988, 15.5, 59.2202) (56.3952, 19.25, 63.813) (56.3952, 26.75, 63.813)
sketch "Эскиз7" plane through (0, 35, 0) normal (0, 1, 0) x (1, 0, 0)
  circle A0 centre (0, 0) radius 97.5
  line L0 (82.3385, -52.2171) -> (97.0481, -54.4786)
  line L1 (97.0481, -54.4786) -> (99.1933, -43.8751)
  line L2 (99.1933, -43.8751) -> (90.1261, -37.196)
  dimension "d98" = 195
extrude "Выдавливание15" cut sketch "Эскиз7" against normal blind 40 contours A0 L2 L1 L0
fillet "Сопряжение1" radius 2 2 edges at (85.5892, 17.5, 46.6983) (88.8777, 17.5, 40.0874)
sketch "Эскиз8" plane through (0, 35, 0) normal (0, 1, 0) x (1, 0, 0)
  arc A0 (53.6735, -92.5643) -> (43.5515, -97.7357) centre (0, 0) ccw construction
  arc A1 (88.2901, -41.3656) -> (87.8932, -39.1028) centre (86.479, -40.5171) ccw construction
  line L0 (87.8932, -39.1028) -> (83.085, -34.2947) construction
  arc A2 (83.085, -34.2947) -> (76.014, -34.2947) centre (79.5495, -37.8302) ccw construction
  line L1 (76.014, -34.2947) -> (31.4954, -78.8132) construction
  arc A3 (31.4954, -78.8132) -> (31.7687, -83.2978) centre (33.6167, -80.9346) ccw construction
  line L2 (31.7687, -83.2978) -> (35.2734, -86.2384) construction
  ellipse E0 centre (0, -102.7511) end of major axis (-44.5159, -100.2577) minor radius 28.887 (42.0492, -94.5734) -> (35.2734, -86.2384) ccw construction
  arc A4 (43.577, -95.5303) -> (45.7288, -94.5192) centre (0, 0) ccw construction
  line L3 (45.7288, -94.5192) -> (49.5852, -92.5543) construction
  line L4 (48.6736, -87.5645) -> (46.3155, -85.2064) construction
  arc A5 (46.3155, -73.8927) -> (46.3155, -85.2064) centre (51.9723, -79.5495) ccw construction
  line L5 (46.3155, -73.8927) -> (73.8927, -46.3155) construction
  arc A6 (83.8933, -45.2544) -> (73.8927, -46.3155) centre (79.5495, -51.9723) ccw construction
  arc A7 (83.8933, -45.2544) -> (86.759, -44.4874) centre (84.9793, -43.5749) ccw construction
  arc A8 (86.759, -44.4874) -> (88.2901, -41.3656) centre (0, 0) ccw construction
  circle A9 centre (79.5495, -37.8302) radius 2 construction
  circle A10 centre (37.8302, -79.5495) radius 2 construction
  line L6 (48.6736, -87.5645) -> (46.3155, -85.2064) construction
  line L7 (46.3155, -85.2064) -> (51.8103, -90.7011)
  line L8 (48.6736, -87.5645) -> (46.3155, -85.2064) construction
  ellipse E1 centre (0, -102.7511) end of major axis (-44.5159, -100.2577) minor radius 28.887 (42.0492, -94.5734) -> (35.2734, -86.2384) ccw construction
  arc A11 (42.0492, -94.5734) -> (42.0492, -94.5734) centre (16.1576, -108.7) ccw construction
  arc A12 (42.9619, -96.3642) -> (-13.241, -106.1776) centre (16.1576, -108.7) ccw construction
  arc A13 (44.9548, -97.0983) -> (51.356, -93.8699) centre (0, 0) ccw
  arc A14 (-13.241, -106.1776) -> (43.5515, -97.7357) centre (16.1576, -108.7) ccw construction
  arc A15 (51.356, -93.8699) -> (51.8103, -90.7011) centre (50.3961, -92.1154) ccw
  arc A16 (42.9619, -96.3642) -> (44.9548, -97.0983) centre (44.3245, -95.7371) ccw
  arc A17 (42.9619, -96.3642) -> (35.2734, -86.2384) centre (16.3229, -108.6095) ccw
  line L9 (35.2734, -86.2384) -> (46.3155, -85.2064)
  dimension "d102" = 214
  dimension "d103" = 2
  dimension "d104" = 1.5
extrude "Выдавливание16" add sketch "Эскиз8" against normal up to surface (35 mm away)
sketch "Эскиз9" plane through (0, 35, 0) normal (0, 1, 0) x (1, 0, 0)
  circle A0 centre (0, 0) radius 101 construction
  circle A1 centre (45.1111, -90.3659) radius 1.9
  line L0 (51.8103, -90.7011) -> (46.3155, -85.2064) projected
  dimension "d107" = 202
  dimension "d108" = 3.8
  dimension "d109" = 4.5
extrude "Выдавливание17" cut sketch "Эскиз9" against normal up to surface (35 mm away)
properties part number "_3DПЕЧАТЬ"
